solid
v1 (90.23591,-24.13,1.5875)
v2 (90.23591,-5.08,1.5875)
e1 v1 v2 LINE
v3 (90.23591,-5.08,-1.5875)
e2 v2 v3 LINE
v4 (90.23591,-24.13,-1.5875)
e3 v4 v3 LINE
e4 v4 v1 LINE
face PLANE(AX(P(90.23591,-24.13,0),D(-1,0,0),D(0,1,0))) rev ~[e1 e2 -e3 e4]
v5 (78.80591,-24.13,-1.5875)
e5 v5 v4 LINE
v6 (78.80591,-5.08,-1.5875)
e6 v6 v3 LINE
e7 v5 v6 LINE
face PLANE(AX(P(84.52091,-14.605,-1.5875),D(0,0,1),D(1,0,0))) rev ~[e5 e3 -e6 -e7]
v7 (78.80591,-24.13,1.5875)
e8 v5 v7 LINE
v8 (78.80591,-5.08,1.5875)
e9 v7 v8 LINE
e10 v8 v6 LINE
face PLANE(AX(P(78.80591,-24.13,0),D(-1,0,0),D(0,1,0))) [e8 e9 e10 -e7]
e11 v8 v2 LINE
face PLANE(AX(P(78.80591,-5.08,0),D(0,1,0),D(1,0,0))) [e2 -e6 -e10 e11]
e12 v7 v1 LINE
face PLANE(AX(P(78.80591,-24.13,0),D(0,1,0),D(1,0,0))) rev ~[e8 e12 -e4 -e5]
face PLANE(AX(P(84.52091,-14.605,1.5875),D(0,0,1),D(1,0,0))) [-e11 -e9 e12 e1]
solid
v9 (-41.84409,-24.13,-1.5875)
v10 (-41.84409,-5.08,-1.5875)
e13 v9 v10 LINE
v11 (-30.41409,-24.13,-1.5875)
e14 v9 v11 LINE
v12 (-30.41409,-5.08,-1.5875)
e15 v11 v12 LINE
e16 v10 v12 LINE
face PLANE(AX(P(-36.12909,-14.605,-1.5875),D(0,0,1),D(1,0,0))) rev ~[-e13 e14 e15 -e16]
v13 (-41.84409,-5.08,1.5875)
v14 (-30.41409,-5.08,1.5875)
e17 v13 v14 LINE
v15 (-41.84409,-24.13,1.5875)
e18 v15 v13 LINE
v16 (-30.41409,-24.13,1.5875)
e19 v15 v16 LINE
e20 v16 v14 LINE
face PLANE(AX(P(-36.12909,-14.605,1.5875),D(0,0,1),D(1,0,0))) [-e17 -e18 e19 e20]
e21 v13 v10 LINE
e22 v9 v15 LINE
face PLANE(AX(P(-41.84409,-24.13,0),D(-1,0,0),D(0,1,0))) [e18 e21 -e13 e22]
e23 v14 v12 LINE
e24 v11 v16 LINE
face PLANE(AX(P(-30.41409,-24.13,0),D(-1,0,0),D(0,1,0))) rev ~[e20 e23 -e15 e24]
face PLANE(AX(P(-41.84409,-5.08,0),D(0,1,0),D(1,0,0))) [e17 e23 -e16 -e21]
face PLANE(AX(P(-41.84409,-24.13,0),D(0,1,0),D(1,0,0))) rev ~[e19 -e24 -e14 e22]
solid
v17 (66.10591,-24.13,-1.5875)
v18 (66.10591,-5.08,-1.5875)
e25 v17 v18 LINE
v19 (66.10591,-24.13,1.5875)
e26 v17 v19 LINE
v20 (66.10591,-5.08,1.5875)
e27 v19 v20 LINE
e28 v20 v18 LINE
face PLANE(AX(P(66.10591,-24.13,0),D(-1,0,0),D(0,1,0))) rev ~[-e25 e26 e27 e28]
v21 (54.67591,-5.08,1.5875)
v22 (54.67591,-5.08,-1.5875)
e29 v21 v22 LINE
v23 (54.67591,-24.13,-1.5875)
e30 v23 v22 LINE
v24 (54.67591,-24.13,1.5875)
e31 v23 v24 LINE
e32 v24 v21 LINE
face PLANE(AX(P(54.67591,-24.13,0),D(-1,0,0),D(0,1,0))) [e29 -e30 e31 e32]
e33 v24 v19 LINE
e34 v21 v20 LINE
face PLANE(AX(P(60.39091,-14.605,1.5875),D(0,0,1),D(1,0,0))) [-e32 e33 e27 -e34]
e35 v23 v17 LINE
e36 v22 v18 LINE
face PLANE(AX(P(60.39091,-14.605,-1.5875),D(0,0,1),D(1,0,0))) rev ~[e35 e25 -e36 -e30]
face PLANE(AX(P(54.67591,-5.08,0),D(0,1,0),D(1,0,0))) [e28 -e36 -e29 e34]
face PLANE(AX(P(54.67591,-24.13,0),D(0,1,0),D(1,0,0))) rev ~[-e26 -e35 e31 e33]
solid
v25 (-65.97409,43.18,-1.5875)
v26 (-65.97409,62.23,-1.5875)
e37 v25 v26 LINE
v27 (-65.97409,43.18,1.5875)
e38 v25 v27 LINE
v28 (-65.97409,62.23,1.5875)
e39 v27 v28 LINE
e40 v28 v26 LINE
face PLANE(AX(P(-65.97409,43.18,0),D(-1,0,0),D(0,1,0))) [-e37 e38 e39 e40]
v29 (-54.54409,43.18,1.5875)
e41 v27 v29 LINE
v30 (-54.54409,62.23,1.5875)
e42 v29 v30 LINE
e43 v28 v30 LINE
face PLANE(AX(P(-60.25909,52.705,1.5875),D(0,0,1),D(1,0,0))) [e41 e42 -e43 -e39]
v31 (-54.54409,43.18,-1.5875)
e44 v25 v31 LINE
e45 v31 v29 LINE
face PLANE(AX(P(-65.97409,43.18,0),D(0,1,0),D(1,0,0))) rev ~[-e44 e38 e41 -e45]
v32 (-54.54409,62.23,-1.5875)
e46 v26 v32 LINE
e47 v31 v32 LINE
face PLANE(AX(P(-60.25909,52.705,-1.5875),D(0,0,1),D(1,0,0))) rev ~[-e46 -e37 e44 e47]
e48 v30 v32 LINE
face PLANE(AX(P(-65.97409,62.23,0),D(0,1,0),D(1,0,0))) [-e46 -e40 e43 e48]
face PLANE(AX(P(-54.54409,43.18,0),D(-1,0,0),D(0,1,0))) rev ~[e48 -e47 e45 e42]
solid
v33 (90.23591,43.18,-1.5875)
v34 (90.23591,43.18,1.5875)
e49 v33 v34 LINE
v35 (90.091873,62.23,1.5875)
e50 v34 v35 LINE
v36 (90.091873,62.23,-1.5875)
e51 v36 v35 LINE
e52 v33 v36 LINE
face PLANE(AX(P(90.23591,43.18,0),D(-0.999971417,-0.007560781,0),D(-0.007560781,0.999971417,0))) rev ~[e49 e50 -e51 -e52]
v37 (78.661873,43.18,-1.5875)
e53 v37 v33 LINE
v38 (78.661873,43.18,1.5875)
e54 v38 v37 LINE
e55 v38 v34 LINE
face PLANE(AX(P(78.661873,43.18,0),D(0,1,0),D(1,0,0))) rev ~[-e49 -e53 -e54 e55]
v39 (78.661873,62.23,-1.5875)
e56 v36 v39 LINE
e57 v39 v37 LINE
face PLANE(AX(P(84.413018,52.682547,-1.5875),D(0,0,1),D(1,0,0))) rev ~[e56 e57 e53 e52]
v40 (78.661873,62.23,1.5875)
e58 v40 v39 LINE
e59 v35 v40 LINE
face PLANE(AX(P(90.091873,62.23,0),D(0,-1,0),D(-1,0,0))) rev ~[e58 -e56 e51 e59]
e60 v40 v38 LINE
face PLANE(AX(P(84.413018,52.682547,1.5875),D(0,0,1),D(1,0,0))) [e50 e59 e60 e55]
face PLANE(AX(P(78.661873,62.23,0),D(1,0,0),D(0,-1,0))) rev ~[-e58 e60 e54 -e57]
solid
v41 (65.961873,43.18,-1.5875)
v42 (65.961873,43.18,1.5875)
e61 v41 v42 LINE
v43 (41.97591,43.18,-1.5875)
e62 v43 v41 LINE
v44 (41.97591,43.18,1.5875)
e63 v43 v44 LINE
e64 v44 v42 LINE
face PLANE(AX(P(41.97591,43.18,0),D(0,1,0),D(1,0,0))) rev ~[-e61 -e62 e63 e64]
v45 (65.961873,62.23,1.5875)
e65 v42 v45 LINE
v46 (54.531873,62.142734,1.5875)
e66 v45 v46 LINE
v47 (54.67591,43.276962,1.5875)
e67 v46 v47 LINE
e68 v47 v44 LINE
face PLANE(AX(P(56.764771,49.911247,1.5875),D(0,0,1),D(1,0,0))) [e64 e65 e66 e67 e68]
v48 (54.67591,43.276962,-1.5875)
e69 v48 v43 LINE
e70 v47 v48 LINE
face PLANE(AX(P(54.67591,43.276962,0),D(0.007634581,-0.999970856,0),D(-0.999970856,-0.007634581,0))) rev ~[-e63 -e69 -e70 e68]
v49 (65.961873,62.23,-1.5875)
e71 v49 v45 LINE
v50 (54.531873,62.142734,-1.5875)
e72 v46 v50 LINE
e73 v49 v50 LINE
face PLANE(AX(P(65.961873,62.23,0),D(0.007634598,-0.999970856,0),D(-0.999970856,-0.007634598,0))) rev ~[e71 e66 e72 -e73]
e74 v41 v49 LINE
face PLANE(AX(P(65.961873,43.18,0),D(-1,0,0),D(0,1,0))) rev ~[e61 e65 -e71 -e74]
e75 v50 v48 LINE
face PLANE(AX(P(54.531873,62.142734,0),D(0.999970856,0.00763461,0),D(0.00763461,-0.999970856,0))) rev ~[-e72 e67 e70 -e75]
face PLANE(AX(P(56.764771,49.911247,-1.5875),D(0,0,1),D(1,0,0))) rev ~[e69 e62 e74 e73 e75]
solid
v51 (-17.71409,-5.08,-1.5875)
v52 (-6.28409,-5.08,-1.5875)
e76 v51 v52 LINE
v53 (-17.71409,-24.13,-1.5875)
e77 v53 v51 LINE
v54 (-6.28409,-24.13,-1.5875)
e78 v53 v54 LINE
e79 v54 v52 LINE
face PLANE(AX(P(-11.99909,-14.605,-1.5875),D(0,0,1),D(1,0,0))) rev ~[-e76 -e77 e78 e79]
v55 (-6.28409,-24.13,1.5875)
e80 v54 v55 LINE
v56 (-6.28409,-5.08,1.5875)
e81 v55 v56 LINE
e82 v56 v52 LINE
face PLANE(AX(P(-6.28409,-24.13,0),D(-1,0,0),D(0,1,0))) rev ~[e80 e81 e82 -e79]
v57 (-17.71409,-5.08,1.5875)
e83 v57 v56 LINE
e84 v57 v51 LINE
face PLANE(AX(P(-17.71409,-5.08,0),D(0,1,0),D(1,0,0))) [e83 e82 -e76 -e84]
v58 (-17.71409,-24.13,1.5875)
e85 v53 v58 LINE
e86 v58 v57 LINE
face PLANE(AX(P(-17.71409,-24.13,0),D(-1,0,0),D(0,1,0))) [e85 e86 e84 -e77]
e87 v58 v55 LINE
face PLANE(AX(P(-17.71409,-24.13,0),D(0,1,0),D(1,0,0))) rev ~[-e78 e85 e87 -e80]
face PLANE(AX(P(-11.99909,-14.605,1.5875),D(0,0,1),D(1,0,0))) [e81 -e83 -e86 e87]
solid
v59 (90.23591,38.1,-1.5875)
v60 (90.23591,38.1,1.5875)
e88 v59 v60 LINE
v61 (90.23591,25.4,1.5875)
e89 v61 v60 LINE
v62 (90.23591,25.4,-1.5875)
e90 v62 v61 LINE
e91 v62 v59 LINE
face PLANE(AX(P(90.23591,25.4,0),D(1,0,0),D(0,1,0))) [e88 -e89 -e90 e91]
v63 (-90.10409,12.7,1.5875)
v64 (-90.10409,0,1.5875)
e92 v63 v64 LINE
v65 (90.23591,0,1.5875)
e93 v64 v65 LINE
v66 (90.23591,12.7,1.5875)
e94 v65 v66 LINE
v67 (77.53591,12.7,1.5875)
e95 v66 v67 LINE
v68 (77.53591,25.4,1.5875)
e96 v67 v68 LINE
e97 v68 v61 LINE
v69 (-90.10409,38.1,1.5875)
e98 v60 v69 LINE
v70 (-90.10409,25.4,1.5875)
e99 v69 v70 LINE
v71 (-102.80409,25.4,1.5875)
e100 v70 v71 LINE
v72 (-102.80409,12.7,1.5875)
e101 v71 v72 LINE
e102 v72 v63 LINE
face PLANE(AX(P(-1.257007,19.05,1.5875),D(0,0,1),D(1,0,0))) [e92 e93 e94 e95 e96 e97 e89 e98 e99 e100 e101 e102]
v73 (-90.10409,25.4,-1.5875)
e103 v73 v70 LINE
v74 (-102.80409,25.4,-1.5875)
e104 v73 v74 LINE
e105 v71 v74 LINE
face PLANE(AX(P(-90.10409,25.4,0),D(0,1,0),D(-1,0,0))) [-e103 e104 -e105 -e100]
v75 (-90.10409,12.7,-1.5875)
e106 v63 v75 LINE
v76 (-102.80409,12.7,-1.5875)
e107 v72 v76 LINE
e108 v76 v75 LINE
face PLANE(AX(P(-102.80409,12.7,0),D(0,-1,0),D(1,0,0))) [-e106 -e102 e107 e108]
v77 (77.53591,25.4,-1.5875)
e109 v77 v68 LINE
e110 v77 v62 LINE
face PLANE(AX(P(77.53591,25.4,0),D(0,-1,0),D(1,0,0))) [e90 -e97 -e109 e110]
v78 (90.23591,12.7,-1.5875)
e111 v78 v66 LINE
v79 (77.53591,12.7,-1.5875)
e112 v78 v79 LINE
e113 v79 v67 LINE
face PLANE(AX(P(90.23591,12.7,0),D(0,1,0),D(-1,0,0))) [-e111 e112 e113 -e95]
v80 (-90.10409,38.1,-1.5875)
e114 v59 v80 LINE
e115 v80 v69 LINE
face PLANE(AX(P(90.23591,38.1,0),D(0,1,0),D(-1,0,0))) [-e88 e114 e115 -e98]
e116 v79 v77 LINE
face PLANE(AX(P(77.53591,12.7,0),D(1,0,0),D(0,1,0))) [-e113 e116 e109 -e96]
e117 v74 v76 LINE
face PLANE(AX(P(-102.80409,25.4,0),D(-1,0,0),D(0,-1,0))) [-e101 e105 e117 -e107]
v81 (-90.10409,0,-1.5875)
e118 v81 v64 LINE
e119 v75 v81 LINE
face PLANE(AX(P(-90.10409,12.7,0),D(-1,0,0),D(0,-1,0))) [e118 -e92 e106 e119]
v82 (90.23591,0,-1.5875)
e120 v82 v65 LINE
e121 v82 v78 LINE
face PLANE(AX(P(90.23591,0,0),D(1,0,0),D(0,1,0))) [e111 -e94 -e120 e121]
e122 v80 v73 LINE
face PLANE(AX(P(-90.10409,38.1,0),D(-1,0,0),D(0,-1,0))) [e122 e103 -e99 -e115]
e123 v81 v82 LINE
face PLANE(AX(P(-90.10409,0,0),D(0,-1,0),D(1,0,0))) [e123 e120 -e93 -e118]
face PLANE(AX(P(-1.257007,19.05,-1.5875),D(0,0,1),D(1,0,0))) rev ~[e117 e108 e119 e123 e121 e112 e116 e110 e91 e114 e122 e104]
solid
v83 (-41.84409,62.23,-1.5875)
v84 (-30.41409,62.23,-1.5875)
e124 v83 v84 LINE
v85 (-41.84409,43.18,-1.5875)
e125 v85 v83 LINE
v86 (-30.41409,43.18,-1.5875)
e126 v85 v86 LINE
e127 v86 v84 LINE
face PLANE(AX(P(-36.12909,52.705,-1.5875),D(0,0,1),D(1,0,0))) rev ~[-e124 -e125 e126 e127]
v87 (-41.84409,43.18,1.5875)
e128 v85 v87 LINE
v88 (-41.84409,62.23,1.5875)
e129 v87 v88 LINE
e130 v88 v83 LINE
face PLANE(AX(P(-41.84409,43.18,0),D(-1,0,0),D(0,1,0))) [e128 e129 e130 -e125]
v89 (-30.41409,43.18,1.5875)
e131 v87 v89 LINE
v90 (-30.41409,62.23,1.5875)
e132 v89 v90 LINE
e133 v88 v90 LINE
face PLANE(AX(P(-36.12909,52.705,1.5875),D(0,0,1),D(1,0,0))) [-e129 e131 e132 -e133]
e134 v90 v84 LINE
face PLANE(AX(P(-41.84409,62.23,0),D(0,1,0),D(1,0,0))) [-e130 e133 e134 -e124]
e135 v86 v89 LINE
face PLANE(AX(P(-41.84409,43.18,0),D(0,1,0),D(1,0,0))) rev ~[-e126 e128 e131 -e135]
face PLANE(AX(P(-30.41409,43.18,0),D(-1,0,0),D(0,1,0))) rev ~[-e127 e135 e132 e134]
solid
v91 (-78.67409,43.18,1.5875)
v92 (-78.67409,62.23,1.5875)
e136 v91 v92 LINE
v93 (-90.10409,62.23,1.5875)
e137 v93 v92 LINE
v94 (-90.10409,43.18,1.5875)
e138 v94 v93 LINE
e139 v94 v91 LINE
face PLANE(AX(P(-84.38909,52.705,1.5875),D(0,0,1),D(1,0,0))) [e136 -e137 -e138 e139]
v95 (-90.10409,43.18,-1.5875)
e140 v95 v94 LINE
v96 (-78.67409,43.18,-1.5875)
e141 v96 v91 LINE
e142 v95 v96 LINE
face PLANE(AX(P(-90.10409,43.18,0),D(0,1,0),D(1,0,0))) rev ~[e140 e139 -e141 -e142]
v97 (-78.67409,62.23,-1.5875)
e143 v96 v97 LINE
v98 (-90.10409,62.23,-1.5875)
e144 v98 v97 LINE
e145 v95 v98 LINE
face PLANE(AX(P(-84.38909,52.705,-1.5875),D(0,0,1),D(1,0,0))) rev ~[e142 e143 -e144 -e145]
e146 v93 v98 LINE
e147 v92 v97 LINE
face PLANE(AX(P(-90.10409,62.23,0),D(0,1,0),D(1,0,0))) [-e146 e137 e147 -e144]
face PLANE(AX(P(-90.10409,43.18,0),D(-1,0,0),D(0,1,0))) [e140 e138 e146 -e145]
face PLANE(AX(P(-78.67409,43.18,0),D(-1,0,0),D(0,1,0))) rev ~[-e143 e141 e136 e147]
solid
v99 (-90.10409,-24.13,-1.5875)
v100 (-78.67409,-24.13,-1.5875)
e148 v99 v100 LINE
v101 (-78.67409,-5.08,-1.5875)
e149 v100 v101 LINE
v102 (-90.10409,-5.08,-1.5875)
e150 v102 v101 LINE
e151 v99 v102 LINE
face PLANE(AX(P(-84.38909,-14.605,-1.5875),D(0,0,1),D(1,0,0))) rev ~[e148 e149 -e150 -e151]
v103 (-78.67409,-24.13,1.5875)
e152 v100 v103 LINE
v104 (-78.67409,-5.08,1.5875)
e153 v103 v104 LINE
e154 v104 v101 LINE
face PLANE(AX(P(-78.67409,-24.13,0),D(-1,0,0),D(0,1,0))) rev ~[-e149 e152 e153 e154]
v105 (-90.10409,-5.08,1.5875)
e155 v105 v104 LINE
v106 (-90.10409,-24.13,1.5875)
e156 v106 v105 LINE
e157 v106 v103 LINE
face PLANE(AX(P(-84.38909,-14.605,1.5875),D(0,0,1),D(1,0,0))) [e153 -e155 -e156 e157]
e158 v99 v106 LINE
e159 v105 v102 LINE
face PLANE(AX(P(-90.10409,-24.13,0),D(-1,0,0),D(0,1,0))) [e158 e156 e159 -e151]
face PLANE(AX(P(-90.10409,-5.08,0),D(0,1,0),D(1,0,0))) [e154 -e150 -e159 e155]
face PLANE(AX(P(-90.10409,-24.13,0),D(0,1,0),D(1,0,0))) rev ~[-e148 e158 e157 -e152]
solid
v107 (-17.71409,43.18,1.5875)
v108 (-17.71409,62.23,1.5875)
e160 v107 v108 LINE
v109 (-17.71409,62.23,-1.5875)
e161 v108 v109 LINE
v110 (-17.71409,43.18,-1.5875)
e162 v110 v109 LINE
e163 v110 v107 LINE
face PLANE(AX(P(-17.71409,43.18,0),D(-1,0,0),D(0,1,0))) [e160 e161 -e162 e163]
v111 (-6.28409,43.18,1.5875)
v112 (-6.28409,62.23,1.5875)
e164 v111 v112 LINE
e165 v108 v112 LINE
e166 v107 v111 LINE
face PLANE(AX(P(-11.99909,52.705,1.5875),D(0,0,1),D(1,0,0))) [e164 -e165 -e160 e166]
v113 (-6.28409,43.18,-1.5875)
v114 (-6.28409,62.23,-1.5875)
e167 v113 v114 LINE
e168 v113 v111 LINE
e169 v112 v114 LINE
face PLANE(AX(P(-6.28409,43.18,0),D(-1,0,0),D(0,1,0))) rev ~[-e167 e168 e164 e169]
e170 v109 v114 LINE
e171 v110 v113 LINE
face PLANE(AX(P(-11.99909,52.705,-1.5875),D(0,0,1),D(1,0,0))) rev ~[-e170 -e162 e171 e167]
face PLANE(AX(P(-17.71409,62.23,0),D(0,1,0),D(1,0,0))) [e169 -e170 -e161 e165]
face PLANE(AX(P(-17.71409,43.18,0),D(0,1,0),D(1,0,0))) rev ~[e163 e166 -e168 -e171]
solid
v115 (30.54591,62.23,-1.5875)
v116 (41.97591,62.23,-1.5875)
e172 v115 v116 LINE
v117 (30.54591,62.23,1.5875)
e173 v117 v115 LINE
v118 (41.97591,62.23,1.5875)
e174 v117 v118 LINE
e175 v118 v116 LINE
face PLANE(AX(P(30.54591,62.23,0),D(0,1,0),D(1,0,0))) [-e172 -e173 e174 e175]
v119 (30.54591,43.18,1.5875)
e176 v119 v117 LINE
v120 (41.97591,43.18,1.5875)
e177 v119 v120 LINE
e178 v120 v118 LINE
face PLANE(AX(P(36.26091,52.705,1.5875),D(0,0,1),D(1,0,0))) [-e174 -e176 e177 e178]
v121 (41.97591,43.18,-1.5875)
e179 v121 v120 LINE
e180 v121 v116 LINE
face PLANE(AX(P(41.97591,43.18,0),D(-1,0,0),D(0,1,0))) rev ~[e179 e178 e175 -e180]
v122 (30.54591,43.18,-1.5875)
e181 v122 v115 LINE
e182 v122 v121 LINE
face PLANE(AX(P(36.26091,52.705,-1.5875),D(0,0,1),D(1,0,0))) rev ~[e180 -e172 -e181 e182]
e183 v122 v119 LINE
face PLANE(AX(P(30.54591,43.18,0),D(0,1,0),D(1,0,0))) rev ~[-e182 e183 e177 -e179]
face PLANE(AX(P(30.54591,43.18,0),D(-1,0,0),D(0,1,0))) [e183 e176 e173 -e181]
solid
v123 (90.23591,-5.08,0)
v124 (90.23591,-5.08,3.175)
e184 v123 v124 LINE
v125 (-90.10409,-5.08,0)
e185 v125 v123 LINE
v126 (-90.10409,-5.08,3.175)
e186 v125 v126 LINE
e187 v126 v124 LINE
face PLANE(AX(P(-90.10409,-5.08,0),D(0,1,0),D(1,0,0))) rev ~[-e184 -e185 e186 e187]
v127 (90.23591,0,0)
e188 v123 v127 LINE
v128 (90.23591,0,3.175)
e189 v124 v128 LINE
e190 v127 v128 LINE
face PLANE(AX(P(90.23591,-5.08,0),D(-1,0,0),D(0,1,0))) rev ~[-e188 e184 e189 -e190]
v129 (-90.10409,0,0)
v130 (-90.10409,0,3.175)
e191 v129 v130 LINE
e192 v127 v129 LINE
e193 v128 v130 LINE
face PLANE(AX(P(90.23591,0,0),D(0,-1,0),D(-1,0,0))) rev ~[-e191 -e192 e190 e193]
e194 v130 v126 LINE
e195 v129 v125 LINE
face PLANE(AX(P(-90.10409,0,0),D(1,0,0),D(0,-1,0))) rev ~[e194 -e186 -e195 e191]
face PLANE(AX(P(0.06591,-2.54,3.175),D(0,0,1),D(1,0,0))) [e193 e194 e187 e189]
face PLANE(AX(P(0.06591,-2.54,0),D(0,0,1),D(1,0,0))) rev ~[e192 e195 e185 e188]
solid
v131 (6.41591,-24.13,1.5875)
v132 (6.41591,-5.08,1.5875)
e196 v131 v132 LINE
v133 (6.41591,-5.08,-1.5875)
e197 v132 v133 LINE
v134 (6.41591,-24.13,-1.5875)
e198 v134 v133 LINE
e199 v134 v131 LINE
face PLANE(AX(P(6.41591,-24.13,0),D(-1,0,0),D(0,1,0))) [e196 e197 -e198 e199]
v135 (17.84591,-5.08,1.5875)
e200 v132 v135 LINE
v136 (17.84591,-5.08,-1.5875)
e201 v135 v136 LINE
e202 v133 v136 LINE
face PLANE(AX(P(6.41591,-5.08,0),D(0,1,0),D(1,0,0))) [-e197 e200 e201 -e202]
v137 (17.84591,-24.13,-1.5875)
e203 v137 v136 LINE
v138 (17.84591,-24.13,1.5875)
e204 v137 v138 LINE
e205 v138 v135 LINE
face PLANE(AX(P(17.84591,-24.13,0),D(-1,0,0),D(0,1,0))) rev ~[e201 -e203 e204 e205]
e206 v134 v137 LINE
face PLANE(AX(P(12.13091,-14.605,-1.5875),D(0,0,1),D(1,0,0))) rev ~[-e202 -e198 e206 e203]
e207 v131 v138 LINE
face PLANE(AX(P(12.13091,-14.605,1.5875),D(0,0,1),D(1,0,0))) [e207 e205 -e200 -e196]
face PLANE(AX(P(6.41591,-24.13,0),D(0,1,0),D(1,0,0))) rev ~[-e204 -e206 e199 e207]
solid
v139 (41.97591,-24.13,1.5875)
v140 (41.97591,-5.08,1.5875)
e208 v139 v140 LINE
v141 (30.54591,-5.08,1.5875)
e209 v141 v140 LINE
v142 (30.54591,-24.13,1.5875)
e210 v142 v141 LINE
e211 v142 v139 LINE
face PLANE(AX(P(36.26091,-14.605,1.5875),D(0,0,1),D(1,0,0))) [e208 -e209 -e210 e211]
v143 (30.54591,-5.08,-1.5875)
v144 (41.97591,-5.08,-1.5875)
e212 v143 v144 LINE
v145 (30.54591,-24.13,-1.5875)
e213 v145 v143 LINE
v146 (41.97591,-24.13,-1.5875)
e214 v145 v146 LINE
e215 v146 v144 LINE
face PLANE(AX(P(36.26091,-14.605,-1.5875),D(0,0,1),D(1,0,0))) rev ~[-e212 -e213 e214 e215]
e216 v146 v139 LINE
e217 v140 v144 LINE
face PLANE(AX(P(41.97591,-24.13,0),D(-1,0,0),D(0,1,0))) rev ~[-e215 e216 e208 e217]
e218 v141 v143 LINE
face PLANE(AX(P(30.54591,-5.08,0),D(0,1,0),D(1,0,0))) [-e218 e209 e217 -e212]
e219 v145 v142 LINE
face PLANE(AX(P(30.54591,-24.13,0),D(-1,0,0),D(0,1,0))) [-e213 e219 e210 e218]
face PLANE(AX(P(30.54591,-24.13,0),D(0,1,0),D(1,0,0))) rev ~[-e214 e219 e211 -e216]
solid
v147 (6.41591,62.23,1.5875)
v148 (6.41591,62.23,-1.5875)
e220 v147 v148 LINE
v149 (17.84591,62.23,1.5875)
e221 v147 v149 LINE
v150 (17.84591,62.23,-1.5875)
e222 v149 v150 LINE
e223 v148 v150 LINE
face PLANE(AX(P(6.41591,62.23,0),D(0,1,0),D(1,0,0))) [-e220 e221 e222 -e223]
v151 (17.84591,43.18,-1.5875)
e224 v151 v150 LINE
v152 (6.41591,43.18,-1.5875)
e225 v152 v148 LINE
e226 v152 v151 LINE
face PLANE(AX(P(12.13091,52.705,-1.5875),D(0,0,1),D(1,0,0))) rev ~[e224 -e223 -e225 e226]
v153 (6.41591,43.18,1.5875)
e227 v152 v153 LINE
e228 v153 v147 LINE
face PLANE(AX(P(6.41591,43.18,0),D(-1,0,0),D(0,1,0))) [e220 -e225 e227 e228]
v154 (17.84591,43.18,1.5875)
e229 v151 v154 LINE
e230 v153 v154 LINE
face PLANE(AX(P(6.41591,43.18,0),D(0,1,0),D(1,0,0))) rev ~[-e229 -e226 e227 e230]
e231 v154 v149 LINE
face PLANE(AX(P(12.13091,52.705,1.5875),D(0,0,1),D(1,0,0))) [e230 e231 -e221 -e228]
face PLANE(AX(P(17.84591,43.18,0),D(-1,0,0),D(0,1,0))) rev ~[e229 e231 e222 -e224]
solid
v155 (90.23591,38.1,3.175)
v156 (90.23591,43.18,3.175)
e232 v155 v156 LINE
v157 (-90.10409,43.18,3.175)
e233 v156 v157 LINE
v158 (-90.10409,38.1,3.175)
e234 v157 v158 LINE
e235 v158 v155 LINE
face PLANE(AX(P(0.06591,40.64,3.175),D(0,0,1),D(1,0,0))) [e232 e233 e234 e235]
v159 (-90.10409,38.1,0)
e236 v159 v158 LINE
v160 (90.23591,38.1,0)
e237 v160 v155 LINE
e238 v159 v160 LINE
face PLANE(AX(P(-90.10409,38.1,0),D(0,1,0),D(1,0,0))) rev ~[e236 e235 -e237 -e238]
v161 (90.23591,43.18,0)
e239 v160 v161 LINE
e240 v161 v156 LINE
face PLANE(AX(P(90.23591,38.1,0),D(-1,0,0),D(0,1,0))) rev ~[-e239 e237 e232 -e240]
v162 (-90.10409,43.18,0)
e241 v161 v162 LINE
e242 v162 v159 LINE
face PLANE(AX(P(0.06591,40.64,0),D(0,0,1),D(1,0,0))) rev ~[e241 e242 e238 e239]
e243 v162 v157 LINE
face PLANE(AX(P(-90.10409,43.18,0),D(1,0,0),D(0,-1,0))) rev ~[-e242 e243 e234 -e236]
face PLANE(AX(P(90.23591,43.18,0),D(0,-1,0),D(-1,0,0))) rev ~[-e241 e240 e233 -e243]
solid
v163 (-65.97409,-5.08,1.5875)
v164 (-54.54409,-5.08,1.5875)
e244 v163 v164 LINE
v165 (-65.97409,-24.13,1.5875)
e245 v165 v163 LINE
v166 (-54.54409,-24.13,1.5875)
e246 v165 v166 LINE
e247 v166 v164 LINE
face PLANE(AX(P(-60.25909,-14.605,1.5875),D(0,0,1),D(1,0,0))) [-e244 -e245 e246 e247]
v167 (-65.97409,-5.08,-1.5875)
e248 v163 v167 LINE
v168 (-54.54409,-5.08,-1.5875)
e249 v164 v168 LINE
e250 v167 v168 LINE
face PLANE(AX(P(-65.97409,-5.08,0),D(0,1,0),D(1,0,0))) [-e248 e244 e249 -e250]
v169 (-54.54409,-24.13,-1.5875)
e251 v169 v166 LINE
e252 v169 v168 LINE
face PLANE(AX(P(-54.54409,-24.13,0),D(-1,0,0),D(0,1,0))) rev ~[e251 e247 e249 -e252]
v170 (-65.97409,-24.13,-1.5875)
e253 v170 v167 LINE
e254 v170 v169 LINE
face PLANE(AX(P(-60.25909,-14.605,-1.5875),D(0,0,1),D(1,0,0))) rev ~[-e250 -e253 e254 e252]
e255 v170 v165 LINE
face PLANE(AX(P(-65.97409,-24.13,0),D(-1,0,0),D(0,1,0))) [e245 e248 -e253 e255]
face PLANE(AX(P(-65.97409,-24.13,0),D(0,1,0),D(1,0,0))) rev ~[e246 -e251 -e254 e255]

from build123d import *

# Parameters (mm, degrees)
F0_W     = 11.43
F0_H     = 19.05
F1_DEPTH = 1.5875
F2_DEPTH = 3.175


with BuildPart() as f1:
    # F0 (on Top) → F1 (new body, symmetric)
    with BuildSketch(Plane.XY):
        with Locations((-84.38909, 52.705)):
            Rectangle(F0_W, F0_H)
        with Locations((-60.25909, 52.705)):
            Rectangle(F0_W, F0_H)
        with Locations((-36.12909, 52.705)):
            Rectangle(F0_W, F0_H)
        with Locations((-11.99909, 52.705)):
            Rectangle(F0_W, F0_H)
        with Locations((12.13091, 52.705)):
            Rectangle(F0_W, F0_H)
        with Locations((36.26091, 52.705)):
            Rectangle(F0_W, F0_H)
        Polygon((41.97591, 43.18), (65.961873, 43.18), (65.961873, 62.23), (54.531873, 62.142734), (54.67591, 43.276962), align=None)
        Polygon((78.661873, 43.18), (90.23591, 43.18), (90.091873, 62.23), (78.661873, 62.23), align=None)
        with Locations((84.52091, -14.605)):
            Rectangle(F0_W, F0_H)
        with Locations((60.39091, -14.605)):
            Rectangle(F0_W, F0_H)
        with Locations((36.26091, -14.605)):
            Rectangle(F0_W, F0_H)
        with Locations((12.13091, -14.605)):
            Rectangle(F0_W, F0_H)
        with Locations((-11.99909, -14.605)):
            Rectangle(F0_W, F0_H)
        with Locations((-36.12909, -14.605)):
            Rectangle(F0_W, F0_H)
        with Locations((-60.25909, -14.605)):
            Rectangle(F0_W, F0_H)
        with Locations((-84.38909, -14.605)):
            Rectangle(F0_W, F0_H)
        Polygon((-90.10409, 12.7), (-90.10409, 0), (90.23591, 0), (90.23591, 12.7), (77.53591, 12.7), (77.53591, 25.4), (90.23591, 25.4), (90.23591, 38.1), (-90.10409, 38.1), (-90.10409, 25.4), (-102.80409, 25.4), (-102.80409, 12.7), align=None)
    extrude(amount=F1_DEPTH, both=True)


with BuildPart() as f2:
    # F0 (on Top) → F2 (new body)
    with BuildSketch(Plane.XY):
        Polygon((-90.10409, 43.18), (-90.10409, 38.1), (90.23591, 38.1), (90.23591, 43.18), (78.661873, 43.18), (65.961873, 43.18), (41.97591, 43.18), (30.54591, 43.18), (17.84591, 43.18), (6.41591, 43.18), (-6.28409, 43.18), (-17.71409, 43.18), (-30.41409, 43.18), (-41.84409, 43.18), (-54.54409, 43.18), (-65.97409, 43.18), (-78.67409, 43.18), align=None)
        Polygon((-90.10409, 0), (-90.10409, -5.08), (-78.67409, -5.08), (-78.653193, -5.08), (-65.97409, -5.08), (-54.54409, -5.08), (-41.84409, -5.08), (-30.41409, -5.08), (-17.71409, -5.08), (-6.28409, -5.08), (6.41591, -5.08), (17.84591, -5.08), (30.54591, -5.08), (41.97591, -5.08), (54.67591, -5.08), (66.10591, -5.08), (78.80591, -5.08), (90.23591, -5.08), (90.23591, 0), align=None)
    extrude(amount=F2_DEPTH)


solid = Compound([f1.part, f2.part])
